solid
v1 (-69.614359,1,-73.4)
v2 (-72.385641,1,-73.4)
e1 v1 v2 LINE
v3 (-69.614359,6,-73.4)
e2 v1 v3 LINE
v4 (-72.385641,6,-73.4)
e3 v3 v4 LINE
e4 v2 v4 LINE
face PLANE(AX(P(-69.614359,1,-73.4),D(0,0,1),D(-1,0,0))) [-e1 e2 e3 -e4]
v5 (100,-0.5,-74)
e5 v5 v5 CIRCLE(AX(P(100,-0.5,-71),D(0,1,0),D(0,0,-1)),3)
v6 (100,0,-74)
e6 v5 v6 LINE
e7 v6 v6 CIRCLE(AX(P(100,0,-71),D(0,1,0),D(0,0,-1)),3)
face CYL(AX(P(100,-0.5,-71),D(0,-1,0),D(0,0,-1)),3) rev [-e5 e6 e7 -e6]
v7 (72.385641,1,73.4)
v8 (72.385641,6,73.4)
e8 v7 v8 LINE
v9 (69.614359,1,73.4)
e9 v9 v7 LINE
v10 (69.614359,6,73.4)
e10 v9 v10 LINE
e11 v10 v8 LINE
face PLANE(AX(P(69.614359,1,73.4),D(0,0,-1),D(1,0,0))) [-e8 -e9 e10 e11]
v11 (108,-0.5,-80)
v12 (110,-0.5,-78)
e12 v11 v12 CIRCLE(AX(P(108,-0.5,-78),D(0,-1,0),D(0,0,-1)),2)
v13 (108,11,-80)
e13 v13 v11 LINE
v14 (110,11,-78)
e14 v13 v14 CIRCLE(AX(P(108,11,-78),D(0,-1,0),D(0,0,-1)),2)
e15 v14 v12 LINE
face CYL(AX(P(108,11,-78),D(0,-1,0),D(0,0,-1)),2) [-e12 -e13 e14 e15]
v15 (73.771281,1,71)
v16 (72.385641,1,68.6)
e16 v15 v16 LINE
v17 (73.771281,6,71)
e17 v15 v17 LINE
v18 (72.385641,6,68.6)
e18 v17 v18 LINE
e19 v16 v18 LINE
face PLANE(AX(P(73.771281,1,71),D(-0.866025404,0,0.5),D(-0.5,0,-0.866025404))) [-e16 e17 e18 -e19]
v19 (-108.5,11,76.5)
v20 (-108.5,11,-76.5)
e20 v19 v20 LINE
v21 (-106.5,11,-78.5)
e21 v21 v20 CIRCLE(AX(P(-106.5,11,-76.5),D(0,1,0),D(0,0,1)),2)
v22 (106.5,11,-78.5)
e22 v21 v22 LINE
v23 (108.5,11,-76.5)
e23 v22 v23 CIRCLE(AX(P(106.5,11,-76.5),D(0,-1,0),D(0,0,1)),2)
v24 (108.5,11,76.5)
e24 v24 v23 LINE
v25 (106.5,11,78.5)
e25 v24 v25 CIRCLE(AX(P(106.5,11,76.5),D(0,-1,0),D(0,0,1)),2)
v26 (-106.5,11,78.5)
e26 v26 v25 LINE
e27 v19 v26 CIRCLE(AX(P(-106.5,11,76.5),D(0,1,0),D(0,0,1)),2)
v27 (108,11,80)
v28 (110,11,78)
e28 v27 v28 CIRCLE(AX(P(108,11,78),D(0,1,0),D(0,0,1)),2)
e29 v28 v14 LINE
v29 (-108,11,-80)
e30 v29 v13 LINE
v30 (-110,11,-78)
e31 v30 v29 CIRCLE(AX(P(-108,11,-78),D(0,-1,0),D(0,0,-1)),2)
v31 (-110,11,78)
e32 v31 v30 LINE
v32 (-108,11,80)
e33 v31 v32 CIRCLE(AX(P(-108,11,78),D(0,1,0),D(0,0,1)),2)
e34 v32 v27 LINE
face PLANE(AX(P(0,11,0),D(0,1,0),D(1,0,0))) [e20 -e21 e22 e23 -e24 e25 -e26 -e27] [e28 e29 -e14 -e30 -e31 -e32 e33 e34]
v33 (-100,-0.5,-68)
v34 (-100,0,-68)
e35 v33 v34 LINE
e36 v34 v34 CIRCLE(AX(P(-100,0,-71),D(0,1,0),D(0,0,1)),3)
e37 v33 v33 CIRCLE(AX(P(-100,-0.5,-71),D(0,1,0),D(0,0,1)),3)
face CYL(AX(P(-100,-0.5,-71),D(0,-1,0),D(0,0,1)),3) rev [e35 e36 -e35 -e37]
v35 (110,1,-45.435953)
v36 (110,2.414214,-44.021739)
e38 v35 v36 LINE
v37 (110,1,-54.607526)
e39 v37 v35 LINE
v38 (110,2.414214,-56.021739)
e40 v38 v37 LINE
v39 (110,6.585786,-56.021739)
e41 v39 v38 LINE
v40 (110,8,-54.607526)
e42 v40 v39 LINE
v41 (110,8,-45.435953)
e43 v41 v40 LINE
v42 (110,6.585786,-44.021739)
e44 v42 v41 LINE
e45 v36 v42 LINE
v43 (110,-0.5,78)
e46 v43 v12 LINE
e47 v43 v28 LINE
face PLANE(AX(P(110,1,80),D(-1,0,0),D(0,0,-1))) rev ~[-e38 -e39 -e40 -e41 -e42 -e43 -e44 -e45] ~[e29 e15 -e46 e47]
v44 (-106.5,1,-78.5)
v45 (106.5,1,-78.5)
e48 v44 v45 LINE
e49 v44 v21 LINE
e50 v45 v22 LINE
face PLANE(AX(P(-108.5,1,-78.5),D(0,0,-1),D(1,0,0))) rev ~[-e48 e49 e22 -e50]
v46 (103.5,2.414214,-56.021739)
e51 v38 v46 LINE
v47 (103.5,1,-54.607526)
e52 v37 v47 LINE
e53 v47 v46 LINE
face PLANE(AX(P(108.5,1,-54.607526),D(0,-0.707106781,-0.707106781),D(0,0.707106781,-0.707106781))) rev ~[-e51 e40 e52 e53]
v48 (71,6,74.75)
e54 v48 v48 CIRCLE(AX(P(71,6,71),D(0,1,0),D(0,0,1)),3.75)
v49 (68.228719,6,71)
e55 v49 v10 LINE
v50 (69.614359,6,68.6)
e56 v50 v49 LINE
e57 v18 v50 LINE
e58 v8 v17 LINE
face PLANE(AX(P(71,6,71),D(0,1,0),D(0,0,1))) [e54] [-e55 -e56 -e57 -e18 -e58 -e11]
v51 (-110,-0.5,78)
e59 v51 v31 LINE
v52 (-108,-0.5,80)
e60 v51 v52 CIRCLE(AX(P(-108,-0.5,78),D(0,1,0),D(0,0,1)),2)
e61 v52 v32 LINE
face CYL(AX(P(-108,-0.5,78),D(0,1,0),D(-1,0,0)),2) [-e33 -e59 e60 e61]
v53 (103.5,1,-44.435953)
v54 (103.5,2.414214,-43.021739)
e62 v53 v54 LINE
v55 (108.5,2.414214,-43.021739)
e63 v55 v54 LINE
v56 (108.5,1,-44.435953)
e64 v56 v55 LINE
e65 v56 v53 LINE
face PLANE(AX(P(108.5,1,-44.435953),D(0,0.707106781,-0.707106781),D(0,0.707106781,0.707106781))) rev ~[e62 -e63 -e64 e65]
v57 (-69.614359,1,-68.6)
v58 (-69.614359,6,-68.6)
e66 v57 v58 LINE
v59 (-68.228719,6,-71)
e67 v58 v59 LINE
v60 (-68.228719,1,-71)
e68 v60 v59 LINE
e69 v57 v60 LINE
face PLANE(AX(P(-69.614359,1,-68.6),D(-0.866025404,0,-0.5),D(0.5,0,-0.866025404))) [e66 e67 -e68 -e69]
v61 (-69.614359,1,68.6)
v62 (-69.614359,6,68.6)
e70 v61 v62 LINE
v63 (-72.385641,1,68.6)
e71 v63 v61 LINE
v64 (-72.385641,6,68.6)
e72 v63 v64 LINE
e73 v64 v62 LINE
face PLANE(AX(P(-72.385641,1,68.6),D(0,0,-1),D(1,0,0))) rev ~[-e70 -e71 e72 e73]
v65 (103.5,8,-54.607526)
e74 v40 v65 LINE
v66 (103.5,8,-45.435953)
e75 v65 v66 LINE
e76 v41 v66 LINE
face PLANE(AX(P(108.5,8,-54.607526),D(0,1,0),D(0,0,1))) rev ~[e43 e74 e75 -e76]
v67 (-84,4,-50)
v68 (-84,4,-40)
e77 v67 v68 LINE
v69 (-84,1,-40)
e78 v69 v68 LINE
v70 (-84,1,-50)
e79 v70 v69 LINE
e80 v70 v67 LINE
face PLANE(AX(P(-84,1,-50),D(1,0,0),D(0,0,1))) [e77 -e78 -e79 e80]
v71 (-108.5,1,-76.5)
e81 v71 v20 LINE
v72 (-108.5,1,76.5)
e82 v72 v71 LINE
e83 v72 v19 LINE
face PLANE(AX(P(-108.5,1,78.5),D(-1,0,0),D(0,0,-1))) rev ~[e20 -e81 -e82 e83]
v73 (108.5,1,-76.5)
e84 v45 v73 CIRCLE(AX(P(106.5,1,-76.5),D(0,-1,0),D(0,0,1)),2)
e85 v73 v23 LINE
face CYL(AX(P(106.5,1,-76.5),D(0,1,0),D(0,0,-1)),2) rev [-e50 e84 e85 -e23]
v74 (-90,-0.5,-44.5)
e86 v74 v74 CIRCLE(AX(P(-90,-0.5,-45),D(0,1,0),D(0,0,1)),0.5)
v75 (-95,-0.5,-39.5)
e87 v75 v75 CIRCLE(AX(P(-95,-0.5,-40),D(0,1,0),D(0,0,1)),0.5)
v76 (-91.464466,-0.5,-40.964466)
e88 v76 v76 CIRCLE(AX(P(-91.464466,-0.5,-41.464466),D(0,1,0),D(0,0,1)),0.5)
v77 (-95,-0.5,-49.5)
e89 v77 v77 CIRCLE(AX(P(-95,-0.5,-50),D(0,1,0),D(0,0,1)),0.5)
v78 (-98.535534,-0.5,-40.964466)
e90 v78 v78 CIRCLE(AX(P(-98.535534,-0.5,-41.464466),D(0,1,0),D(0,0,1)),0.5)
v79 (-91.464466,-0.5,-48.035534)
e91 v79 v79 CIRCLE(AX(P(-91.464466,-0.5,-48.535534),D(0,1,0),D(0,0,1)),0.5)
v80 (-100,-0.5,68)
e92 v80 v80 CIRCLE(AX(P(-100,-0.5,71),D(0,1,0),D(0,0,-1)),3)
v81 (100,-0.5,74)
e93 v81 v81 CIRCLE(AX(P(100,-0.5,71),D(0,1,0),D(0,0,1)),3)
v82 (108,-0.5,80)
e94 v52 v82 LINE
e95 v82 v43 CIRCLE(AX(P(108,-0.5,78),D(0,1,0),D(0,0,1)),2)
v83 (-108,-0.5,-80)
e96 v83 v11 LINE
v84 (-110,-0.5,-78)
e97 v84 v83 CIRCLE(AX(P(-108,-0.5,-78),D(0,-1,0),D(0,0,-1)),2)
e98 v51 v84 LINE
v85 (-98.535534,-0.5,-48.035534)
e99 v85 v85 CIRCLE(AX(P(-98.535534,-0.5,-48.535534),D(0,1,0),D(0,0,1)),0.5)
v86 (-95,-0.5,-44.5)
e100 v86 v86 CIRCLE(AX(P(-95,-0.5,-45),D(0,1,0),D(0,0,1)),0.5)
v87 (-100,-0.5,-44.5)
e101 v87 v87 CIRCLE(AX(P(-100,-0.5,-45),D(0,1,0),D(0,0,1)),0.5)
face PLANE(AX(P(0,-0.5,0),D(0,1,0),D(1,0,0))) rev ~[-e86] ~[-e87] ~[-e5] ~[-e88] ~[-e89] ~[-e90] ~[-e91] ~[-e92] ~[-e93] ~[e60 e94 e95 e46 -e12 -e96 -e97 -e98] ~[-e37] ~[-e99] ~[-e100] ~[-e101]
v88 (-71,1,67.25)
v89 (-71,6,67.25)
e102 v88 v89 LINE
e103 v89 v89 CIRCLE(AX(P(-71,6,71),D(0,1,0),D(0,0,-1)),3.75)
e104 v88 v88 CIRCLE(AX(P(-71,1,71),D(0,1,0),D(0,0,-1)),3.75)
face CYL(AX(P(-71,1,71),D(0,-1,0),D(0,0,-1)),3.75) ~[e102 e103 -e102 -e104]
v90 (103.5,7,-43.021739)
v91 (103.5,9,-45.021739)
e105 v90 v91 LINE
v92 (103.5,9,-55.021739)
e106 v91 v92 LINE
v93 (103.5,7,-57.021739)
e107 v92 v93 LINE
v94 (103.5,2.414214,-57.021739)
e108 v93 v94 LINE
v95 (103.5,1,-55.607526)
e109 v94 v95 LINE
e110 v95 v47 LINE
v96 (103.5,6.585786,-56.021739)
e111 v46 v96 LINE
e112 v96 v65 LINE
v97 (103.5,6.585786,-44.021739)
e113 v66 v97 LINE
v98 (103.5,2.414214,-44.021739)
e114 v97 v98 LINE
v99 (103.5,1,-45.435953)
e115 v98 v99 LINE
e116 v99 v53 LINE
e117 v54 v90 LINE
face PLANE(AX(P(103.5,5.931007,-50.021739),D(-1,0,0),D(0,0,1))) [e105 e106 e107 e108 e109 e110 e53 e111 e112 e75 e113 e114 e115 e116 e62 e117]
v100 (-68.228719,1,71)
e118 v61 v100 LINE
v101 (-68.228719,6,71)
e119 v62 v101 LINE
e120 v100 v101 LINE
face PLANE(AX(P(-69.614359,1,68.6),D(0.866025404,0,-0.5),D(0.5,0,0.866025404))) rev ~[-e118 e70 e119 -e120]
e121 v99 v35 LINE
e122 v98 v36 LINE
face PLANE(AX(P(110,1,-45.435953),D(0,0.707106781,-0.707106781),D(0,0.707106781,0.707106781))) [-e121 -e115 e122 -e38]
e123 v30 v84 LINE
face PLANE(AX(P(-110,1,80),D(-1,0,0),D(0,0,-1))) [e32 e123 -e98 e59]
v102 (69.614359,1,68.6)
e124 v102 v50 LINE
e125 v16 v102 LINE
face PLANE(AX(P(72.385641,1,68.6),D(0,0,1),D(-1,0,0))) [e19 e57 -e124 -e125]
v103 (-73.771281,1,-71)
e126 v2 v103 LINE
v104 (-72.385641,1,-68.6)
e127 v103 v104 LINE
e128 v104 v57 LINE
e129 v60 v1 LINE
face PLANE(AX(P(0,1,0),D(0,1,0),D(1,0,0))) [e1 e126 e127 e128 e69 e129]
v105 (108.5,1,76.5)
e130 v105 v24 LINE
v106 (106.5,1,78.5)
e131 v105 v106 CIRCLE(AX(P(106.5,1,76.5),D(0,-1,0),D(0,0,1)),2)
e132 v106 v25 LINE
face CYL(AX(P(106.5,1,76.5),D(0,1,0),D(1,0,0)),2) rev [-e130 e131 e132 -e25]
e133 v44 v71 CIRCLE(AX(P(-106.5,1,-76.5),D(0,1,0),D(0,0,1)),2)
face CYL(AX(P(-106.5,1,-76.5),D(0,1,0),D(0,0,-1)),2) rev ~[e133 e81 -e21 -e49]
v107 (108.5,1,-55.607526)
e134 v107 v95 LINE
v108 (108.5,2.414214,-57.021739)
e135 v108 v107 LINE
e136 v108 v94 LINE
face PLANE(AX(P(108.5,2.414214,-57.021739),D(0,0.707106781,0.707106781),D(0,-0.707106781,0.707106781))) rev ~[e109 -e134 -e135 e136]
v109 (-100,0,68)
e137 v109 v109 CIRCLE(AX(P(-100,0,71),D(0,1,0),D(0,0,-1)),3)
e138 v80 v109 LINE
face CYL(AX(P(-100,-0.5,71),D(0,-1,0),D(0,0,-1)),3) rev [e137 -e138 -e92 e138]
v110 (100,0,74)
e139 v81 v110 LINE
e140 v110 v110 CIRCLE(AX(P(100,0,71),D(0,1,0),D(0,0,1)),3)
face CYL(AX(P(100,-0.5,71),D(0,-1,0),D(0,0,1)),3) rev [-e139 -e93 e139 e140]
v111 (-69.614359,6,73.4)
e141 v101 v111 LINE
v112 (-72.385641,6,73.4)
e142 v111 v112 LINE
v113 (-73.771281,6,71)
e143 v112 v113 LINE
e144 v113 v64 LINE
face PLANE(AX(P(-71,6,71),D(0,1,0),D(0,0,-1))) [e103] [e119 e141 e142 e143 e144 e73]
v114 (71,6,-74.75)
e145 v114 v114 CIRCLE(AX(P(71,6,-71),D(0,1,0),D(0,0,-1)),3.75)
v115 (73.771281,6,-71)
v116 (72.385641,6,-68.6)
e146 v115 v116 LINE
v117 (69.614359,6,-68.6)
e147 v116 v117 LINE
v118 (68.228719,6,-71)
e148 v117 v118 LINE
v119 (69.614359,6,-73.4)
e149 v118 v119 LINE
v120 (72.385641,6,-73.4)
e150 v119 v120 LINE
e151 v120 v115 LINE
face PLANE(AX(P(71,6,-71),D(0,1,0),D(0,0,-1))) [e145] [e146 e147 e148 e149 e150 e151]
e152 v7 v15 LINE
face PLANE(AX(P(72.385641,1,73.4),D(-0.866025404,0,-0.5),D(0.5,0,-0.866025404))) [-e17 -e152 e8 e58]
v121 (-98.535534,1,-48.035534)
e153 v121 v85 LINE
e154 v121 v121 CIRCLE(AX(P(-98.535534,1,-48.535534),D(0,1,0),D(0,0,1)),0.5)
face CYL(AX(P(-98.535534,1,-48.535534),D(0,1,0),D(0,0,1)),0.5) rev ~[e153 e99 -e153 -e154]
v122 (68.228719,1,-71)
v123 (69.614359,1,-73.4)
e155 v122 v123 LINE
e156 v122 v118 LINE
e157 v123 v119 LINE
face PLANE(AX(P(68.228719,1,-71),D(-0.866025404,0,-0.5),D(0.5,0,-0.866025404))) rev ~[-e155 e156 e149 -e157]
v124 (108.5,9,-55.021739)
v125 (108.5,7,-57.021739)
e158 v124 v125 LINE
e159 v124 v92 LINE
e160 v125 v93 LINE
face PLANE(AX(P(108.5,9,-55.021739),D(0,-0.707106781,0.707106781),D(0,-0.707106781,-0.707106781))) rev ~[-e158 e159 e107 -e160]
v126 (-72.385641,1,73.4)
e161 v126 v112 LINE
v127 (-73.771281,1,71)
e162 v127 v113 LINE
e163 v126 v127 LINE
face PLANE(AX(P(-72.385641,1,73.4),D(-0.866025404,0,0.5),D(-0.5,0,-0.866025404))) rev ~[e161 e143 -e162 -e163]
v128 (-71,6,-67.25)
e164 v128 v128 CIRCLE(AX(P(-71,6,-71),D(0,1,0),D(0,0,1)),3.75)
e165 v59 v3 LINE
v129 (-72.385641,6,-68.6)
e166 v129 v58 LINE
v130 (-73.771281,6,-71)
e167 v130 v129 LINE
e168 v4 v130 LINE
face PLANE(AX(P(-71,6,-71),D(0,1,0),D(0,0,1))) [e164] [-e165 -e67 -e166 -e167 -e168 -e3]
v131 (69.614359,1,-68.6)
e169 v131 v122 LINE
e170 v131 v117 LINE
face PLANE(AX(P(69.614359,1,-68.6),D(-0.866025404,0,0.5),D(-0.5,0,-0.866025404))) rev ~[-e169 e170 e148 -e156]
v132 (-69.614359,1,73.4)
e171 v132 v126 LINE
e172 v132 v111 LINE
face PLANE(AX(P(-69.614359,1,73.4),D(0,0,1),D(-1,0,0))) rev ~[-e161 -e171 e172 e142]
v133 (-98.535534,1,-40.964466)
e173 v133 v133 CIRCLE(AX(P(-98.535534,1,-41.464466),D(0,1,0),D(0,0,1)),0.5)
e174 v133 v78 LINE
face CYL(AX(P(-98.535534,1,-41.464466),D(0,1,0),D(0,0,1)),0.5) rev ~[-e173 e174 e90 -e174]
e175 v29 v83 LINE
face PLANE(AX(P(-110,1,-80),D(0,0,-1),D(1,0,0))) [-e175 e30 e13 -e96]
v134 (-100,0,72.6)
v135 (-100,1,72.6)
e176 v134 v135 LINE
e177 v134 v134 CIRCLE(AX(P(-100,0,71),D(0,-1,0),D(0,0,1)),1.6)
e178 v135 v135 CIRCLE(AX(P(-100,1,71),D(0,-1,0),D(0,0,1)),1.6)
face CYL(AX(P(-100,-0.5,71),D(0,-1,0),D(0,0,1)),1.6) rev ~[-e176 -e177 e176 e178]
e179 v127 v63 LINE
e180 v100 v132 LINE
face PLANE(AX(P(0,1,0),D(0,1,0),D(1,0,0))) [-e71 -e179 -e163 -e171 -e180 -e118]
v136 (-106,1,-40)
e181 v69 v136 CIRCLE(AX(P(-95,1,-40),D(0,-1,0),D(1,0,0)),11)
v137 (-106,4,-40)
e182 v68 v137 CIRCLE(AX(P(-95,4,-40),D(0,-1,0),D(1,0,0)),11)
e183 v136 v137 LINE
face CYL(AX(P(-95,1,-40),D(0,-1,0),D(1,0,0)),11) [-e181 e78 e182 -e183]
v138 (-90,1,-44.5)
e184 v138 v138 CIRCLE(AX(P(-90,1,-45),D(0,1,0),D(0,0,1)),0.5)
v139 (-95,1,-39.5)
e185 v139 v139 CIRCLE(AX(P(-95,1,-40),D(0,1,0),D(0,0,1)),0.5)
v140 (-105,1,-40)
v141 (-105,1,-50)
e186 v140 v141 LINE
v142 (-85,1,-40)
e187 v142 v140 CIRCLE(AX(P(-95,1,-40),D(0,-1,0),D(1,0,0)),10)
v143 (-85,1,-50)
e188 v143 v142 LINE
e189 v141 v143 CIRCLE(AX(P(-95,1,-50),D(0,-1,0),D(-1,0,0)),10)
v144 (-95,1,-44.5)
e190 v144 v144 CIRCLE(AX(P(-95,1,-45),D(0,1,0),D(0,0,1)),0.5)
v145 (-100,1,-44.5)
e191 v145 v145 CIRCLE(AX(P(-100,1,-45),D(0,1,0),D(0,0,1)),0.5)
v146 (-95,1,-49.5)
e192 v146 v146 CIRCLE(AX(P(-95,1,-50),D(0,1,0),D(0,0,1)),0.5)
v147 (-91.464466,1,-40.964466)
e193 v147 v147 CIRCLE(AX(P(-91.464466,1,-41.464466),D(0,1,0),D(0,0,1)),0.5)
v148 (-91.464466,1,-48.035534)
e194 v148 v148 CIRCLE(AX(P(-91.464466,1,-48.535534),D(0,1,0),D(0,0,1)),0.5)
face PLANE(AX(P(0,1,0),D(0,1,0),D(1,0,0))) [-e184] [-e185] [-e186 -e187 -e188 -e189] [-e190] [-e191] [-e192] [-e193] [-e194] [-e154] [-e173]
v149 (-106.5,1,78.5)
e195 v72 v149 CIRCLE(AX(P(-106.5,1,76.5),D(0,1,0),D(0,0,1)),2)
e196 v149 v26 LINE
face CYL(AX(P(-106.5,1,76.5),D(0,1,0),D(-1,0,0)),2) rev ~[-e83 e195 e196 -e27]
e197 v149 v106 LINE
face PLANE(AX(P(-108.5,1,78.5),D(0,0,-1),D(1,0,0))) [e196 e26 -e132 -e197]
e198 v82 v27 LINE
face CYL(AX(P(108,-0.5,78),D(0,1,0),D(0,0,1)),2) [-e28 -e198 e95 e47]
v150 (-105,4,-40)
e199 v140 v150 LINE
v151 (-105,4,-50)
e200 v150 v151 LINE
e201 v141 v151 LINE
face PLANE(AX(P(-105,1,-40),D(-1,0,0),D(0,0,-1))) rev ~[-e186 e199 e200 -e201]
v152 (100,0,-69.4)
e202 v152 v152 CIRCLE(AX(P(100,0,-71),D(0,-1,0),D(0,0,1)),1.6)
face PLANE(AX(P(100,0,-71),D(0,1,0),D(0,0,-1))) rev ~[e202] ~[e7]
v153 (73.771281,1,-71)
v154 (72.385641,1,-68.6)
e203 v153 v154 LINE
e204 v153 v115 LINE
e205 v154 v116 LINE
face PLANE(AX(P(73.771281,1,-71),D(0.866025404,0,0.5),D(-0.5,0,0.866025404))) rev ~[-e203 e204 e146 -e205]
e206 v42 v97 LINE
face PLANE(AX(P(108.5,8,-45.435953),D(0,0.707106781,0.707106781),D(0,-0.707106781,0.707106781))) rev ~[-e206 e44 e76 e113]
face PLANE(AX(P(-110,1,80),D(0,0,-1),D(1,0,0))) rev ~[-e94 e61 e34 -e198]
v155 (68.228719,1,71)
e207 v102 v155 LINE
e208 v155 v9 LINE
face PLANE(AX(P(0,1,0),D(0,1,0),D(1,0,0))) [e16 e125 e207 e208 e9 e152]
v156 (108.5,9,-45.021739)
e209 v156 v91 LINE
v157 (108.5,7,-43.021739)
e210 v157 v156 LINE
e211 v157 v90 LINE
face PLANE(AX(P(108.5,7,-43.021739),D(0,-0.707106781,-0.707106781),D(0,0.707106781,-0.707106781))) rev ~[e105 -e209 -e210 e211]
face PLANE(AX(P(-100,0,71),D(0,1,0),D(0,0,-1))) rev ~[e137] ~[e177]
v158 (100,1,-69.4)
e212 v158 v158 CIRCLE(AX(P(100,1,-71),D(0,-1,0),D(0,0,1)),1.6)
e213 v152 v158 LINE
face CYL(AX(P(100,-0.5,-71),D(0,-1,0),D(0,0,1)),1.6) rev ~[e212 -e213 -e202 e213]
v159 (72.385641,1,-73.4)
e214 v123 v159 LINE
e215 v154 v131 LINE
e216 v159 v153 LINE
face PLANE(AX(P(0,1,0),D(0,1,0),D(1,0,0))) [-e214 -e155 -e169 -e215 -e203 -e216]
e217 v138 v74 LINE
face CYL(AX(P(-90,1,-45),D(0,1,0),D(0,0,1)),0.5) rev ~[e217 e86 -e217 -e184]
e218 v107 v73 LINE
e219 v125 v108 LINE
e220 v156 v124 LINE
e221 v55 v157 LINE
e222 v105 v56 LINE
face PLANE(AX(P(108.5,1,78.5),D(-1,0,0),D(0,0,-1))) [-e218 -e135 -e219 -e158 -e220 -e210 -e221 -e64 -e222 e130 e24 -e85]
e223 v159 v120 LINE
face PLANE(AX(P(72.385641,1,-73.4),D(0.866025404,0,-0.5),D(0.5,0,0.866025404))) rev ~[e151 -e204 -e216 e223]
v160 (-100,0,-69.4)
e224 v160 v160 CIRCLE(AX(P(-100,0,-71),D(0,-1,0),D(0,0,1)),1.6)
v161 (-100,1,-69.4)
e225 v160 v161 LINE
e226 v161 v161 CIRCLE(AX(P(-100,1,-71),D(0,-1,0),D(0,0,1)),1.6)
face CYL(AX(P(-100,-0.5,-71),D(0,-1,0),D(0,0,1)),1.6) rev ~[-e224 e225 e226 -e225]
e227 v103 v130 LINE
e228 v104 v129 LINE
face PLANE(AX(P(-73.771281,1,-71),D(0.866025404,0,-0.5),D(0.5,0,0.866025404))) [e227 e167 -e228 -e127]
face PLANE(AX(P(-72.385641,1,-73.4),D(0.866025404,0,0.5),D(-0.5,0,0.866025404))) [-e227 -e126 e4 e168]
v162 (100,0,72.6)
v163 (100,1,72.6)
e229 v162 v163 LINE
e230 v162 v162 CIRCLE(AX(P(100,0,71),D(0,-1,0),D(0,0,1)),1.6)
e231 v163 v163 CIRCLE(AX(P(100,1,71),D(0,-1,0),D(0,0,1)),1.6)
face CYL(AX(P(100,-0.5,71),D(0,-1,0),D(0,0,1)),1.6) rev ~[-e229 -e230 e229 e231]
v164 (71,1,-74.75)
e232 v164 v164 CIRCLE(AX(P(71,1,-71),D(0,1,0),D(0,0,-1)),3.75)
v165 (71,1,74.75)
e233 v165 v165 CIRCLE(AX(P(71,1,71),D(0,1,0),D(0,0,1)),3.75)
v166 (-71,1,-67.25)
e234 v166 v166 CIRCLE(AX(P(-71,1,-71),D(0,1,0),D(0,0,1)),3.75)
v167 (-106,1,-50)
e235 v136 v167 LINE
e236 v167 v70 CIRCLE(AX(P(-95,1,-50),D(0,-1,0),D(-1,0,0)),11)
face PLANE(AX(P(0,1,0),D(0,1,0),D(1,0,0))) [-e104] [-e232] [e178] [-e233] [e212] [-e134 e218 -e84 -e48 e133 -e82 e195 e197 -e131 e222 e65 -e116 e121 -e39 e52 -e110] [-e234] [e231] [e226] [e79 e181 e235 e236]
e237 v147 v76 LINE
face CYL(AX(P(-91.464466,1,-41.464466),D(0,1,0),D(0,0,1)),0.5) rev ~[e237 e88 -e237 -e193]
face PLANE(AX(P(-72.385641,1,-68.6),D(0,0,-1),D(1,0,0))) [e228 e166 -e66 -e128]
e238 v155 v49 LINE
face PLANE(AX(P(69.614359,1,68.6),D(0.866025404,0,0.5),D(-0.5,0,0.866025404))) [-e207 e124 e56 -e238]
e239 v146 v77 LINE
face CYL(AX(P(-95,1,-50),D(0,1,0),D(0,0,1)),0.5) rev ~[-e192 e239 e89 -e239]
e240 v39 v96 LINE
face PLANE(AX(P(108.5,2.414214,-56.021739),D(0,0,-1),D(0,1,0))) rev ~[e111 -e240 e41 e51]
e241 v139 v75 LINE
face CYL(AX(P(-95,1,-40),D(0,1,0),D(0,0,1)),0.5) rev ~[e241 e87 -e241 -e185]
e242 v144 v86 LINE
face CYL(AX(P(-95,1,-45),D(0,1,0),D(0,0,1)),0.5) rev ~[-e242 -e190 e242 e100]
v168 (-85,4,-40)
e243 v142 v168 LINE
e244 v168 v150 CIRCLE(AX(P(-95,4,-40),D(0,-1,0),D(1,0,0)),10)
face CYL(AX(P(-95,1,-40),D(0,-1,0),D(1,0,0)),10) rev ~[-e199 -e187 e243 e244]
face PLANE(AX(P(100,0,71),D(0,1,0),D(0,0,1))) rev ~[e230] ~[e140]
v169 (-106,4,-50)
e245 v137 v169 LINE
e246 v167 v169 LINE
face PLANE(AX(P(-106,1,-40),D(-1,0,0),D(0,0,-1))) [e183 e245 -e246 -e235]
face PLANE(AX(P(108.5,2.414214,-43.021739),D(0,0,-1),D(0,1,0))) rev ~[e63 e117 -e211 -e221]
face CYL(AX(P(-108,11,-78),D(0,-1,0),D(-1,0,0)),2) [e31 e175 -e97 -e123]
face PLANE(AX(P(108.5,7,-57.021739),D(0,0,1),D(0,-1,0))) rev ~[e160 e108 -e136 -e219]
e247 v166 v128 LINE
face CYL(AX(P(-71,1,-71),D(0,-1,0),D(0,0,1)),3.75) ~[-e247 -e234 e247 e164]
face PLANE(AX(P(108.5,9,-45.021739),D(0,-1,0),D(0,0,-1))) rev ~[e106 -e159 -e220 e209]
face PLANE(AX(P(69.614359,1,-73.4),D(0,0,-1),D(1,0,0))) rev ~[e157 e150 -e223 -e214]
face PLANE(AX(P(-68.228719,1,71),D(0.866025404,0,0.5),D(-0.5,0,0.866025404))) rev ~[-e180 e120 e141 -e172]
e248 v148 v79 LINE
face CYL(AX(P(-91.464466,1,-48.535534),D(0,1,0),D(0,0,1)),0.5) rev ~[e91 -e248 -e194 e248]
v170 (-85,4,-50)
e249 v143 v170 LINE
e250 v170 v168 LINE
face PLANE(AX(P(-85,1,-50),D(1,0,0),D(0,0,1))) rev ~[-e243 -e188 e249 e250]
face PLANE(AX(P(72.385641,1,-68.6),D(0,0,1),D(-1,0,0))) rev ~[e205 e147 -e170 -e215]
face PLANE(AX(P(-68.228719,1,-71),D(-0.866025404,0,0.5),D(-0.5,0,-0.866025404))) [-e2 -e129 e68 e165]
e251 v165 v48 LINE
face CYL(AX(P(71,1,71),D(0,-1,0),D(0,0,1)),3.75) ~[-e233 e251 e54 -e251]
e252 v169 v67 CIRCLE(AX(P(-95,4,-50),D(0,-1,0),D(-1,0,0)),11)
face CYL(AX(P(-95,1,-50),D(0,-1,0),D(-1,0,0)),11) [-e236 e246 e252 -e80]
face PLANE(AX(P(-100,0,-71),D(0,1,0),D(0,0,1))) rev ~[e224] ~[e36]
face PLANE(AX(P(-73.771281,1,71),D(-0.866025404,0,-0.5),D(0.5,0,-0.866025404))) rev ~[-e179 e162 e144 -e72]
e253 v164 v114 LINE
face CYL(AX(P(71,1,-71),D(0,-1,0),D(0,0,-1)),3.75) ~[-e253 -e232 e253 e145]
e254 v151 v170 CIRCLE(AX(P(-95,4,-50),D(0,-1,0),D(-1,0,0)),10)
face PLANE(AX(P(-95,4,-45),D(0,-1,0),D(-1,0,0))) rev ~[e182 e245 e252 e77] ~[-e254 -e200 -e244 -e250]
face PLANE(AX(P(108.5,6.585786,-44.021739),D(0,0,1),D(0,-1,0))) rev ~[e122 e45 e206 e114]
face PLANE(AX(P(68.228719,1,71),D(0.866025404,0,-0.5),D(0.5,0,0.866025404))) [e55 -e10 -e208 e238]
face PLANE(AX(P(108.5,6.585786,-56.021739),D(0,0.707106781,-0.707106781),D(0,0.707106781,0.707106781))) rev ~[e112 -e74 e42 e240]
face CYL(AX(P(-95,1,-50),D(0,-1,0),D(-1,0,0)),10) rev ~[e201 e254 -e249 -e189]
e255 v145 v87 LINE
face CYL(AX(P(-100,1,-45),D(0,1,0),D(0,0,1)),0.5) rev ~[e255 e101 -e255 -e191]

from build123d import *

# Parameters (mm, degrees)
EXTRUDE_1_DEPTH                 = 1
EXTRUDE_1_DEPTH_BACK            = 0.5
SKETCH_1_W                      = 220
SKETCH_1_H                      = 160
SKETCH_2_R                      = 3.75
EXTRUDE_2_DEPTH                 = 5
CUT_EXTRUDE_5_REACH             = 138.17
SKETCH_3_R                      = 1.6
CUT_EXTRUDE_5_DIRECTION_2_DEPTH = 137.169930601
CUT_EXTRUDE_START               = -0.5
SKETCH_4_R                      = 3
CUT_EXTRUDE_7_DEPTH             = 0.5
SKETCH_5_W                      = 220
SKETCH_5_H                      = 160
SKETCH_5_W_2                    = 217
SKETCH_5_H_2                    = 157
EXTRUDE_3_DEPTH                 = 10
FILLET_1_R                      = 2
FILLET_2_R                      = 2
FILLET_3_R                      = 2
CUT_EXTRUDE_8_REACH             = 236.352
CUT_EXTRUDE_8_DIRECTION_2_DEPTH = 235.352298901
EXTRUDE_4_DEPTH                 = 5
EXTRUDE_5_DEPTH                 = 3
CUT_EXTRUDE_9_REACH             = 138.382
SKETCH_10_R                     = 0.5


with BuildPart() as part:
    # 草图1 → 凸台-拉伸1 (new, two sides: drawn at the far end of the back side and taken through both)
    with BuildSketch(Plane(origin=(0, 0, 0), x_dir=(1, 0, 0), z_dir=(0, 1, 0)).offset(-EXTRUDE_1_DEPTH_BACK)):
        Rectangle(SKETCH_1_W, SKETCH_1_H)
    extrude(amount=EXTRUDE_1_DEPTH + EXTRUDE_1_DEPTH_BACK)

    # 草图2 → 凸台-拉伸2 (add)
    # profile 1 of 4: a face of its own
    with BuildSketch(Plane(origin=(0, 1, 0), x_dir=(1, 0, 0), z_dir=(0, 1, 0))):
        with Locations(Location((-71, 71, 0), (0, 0, 270))):
            Circle(SKETCH_2_R)
        Polygon((-69.614359354, 68.6), (-68.228718708, 71), (-69.614359354, 73.4), (-72.385640646, 73.4), (-73.771281292, 71), (-72.385640646, 68.6), align=None, mode=Mode.SUBTRACT)
    # profile 2 of 4: a face of its own
    with BuildSketch(Plane(origin=(0, 1, 0), x_dir=(1, 0, 0), z_dir=(0, 1, 0))):
        with Locations(Location((71, 71, 0), (0, 0, 90))):
            Circle(SKETCH_2_R)
        Polygon((72.385640646, 68.6), (69.614359354, 68.6), (68.228718708, 71), (69.614359354, 73.4), (72.385640646, 73.4), (73.771281292, 71), align=None, mode=Mode.SUBTRACT)
    # profile 3 of 4: a face of its own
    with BuildSketch(Plane(origin=(0, 1, 0), x_dir=(1, 0, 0), z_dir=(0, 1, 0))):
        with Locations(Location((71, -71, 0), (0, 0, 270))):
            Circle(SKETCH_2_R)
        Polygon((69.614359354, -68.6), (68.228718708, -71), (69.614359354, -73.4), (72.385640646, -73.4), (73.771281292, -71), (72.385640646, -68.6), align=None, mode=Mode.SUBTRACT)
    # profile 4 of 4: a face of its own
    with BuildSketch(Plane(origin=(0, 1, 0), x_dir=(1, 0, 0), z_dir=(0, 1, 0))):
        with Locations(Location((-71, -71, 0), (0, 0, 90))):
            Circle(SKETCH_2_R)
        Polygon((-72.385640646, -68.6), (-69.614359354, -68.6), (-68.228718708, -71), (-69.614359354, -73.4), (-72.385640646, -73.4), (-73.771281292, -71), align=None, mode=Mode.SUBTRACT)
    extrude(amount=EXTRUDE_2_DEPTH)

    # 草图3 → 切除-拉伸5 (cut, up to next)
    with BuildSketch(Plane.XZ.offset(0.5), mode=Mode.PRIVATE) as cut_extrude_5_sk1:
        with Locations(Location((-100, -71, 0), (0, 0, 90))):
            Circle(SKETCH_3_R)
    cut_extrude_5_tool1 = extrude(cut_extrude_5_sk1.sketch, amount=-CUT_EXTRUDE_5_REACH, mode=Mode.PRIVATE) & part.part
    # 草图3 → 切除-拉伸5 (cut, up to next)
    with BuildSketch(Plane.XZ.offset(0.5), mode=Mode.PRIVATE) as cut_extrude_5_sk2:
        with Locations(Location((100, -71, 0), (0, 0, 90))):
            Circle(SKETCH_3_R)
    cut_extrude_5_tool2 = extrude(cut_extrude_5_sk2.sketch, amount=-CUT_EXTRUDE_5_REACH, mode=Mode.PRIVATE) & part.part
    # 草图3 → 切除-拉伸5 (cut, up to next)
    with BuildSketch(Plane.XZ.offset(0.5), mode=Mode.PRIVATE) as cut_extrude_5_sk3:
        with Locations(Location((100, 71, 0), (0, 0, 90))):
            Circle(SKETCH_3_R)
    cut_extrude_5_tool3 = extrude(cut_extrude_5_sk3.sketch, amount=-CUT_EXTRUDE_5_REACH, mode=Mode.PRIVATE) & part.part
    # 草图3 → 切除-拉伸5 (cut, up to next)
    with BuildSketch(Plane.XZ.offset(0.5), mode=Mode.PRIVATE) as cut_extrude_5_sk4:
        with Locations(Location((-100, 71, 0), (0, 0, 90))):
            Circle(SKETCH_3_R)
    cut_extrude_5_tool4 = extrude(cut_extrude_5_sk4.sketch, amount=-CUT_EXTRUDE_5_REACH, mode=Mode.PRIVATE) & part.part
    add(cut_extrude_5_tool1.solids().sort_by_distance((-100, -0.5, -71))[0], mode=Mode.SUBTRACT)
    add(cut_extrude_5_tool2.solids().sort_by_distance((100, -0.5, -71))[0], mode=Mode.SUBTRACT)
    add(cut_extrude_5_tool3.solids().sort_by_distance((100, -0.5, 71))[0], mode=Mode.SUBTRACT)
    add(cut_extrude_5_tool4.solids().sort_by_distance((-100, -0.5, 71))[0], mode=Mode.SUBTRACT)

    # 草图3 → 切除-拉伸5 direction 2 (cut)
    with BuildSketch(Plane.XZ.offset(0.5)):
        with Locations(Location((-100, -71, 0), (0, 0, 90))):
            Circle(SKETCH_3_R)
        with Locations(Location((100, -71, 0), (0, 0, 90))):
            Circle(SKETCH_3_R)
        with Locations(Location((100, 71, 0), (0, 0, 90))):
            Circle(SKETCH_3_R)
        with Locations(Location((-100, 71, 0), (0, 0, 90))):
            Circle(SKETCH_3_R)
    extrude(amount=CUT_EXTRUDE_5_DIRECTION_2_DEPTH, mode=Mode.SUBTRACT)

    # 草图4 → 切除-拉伸7 (cut)
    with BuildSketch(Plane(origin=(0, 0, 0), x_dir=(1, 0, 0), z_dir=(0, 1, 0)).offset(CUT_EXTRUDE_START)):
        with Locations(Location((-100, 71, 0), (0, 0, 270))):
            Circle(SKETCH_4_R)
        with Locations(Location((100, 71, 0), (0, 0, 90))):
            Circle(SKETCH_4_R)
        with Locations(Location((100, -71, 0), (0, 0, 270))):
            Circle(SKETCH_4_R)
        with Locations(Location((-100, -71, 0), (0, 0, 90))):
            Circle(SKETCH_4_R)
    extrude(amount=CUT_EXTRUDE_7_DEPTH, mode=Mode.SUBTRACT)

    # 草图5 → 凸台-拉伸3 (add)
    with BuildSketch(Plane(origin=(0, 1, 0), x_dir=(1, 0, 0), z_dir=(0, 1, 0))):
        Rectangle(SKETCH_5_W, SKETCH_5_H)
        Rectangle(SKETCH_5_W_2, SKETCH_5_H_2, mode=Mode.SUBTRACT)
    extrude(amount=EXTRUDE_3_DEPTH)

    # 圆角1
    fillet_1_edges = [part.edges().sort_by_distance(p)[0] for p in [
        (-110, 5.25, -80),
    ]]
    fillet(fillet_1_edges, radius=FILLET_1_R)

    # 圆角2
    fillet_2_edges = [part.edges().sort_by_distance(p)[0] for p in [
        (-108.5, 6, -78.5),
    ]]
    fillet(fillet_2_edges, radius=FILLET_2_R)

    # 圆角3
    fillet_3_edges = [part.edges().sort_by_distance(p)[0] for p in [
        (108.5, 6, 78.5),
        (108.5, 6, -78.5),
        (-108.5, 6, 78.5),
        (110, 5.25, 80),
        (-110, 5.25, 80),
        (110, 5.25, -80),
    ]]
    fillet(fillet_3_edges, radius=FILLET_3_R)

    # 草图7 → 切除-拉伸8 (cut, up to next)
    with BuildSketch(Plane(origin=(110, 0, 0), x_dir=(0, 0, -1), z_dir=(1, 0, 0)), mode=Mode.PRIVATE) as cut_extrude_8_sk1:
        Polygon((45.435952693, 8), (54.607525568, 8), (56.02173913, 6.585786438), (56.02173913, 2.414213562), (54.607525568, 1), (45.435952693, 1), (44.02173913, 2.414213562), (44.02173913, 6.585786438), align=None)
    cut_extrude_8_tool1 = extrude(cut_extrude_8_sk1.sketch, amount=-CUT_EXTRUDE_8_REACH, mode=Mode.PRIVATE) & part.part
    add(cut_extrude_8_tool1.solids().sort_by_distance((110, 4.5, -50.021739))[0], mode=Mode.SUBTRACT)

    # 草图7 → 切除-拉伸8 direction 2 (cut)
    with BuildSketch(Plane(origin=(110, 0, 0), x_dir=(0, 0, -1), z_dir=(1, 0, 0))):
        Polygon((45.435952693, 8), (54.607525568, 8), (56.02173913, 6.585786438), (56.02173913, 2.414213562), (54.607525568, 1), (45.435952693, 1), (44.02173913, 2.414213562), (44.02173913, 6.585786438), align=None)
    extrude(amount=CUT_EXTRUDE_8_DIRECTION_2_DEPTH, mode=Mode.SUBTRACT)

    # 草图8 → 凸台-拉伸4 (add)
    with BuildSketch(Plane.ZY.offset(-108.5)):
        Polygon((-44.435952693, 1), (-43.02173913, 2.414213562), (-43.02173913, 7), (-45.02173913, 9), (-55.02173913, 9), (-57.02173913, 7), (-57.02173913, 2.414213562), (-55.607525568, 1), (-54.607525568, 1), (-56.02173913, 2.414213562), (-56.02173913, 6.585786438), (-54.607525568, 8), (-45.435952693, 8), (-44.02173913, 6.585786438), (-44.02173913, 2.414213562), (-45.435952693, 1), align=None)
    extrude(amount=EXTRUDE_4_DEPTH)

    # 草图9 → 凸台-拉伸5 (add)
    with BuildSketch(Plane(origin=(0, 1, 0), x_dir=(1, 0, 0), z_dir=(0, 1, 0))):
        with BuildLine():
            Line((-84, 50), (-84, 40))
            ThreePointArc((-84, 40), (-95, 29), (-106, 40))
            Line((-106, 40), (-106, 50))
            ThreePointArc((-106, 50), (-95, 61), (-84, 50))
        make_face()
        with BuildLine():
            Line((-85, 50), (-85, 40))
            ThreePointArc((-85, 40), (-95, 30), (-105, 40))
            Line((-105, 40), (-105, 50))
            ThreePointArc((-105, 50), (-95, 60), (-85, 50))
        make_face(mode=Mode.SUBTRACT)
    extrude(amount=EXTRUDE_5_DEPTH)

    # 草图10 → 切除-拉伸9 (cut, up to next)
    with BuildSketch(Plane(origin=(0, 1, 0), x_dir=(1, 0, 0), z_dir=(0, 1, 0)), mode=Mode.PRIVATE) as cut_extrude_9_sk1:
        with Locations(Location((-95, 45, 0), (0, 0, 270))):
            Circle(SKETCH_10_R)
    cut_extrude_9_tool1 = extrude(cut_extrude_9_sk1.sketch, amount=-CUT_EXTRUDE_9_REACH, mode=Mode.PRIVATE) & part.part
    # 草图10 → 切除-拉伸9 (cut, up to next)
    with BuildSketch(Plane(origin=(0, 1, 0), x_dir=(1, 0, 0), z_dir=(0, 1, 0)), mode=Mode.PRIVATE) as cut_extrude_9_sk2:
        with Locations(Location((-100, 45, 0), (0, 0, 270))):
            Circle(SKETCH_10_R)
    cut_extrude_9_tool2 = extrude(cut_extrude_9_sk2.sketch, amount=-CUT_EXTRUDE_9_REACH, mode=Mode.PRIVATE) & part.part
    # 草图10 → 切除-拉伸9 (cut, up to next)
    with BuildSketch(Plane(origin=(0, 1, 0), x_dir=(1, 0, 0), z_dir=(0, 1, 0)), mode=Mode.PRIVATE) as cut_extrude_9_sk3:
        with Locations(Location((-98.535533906, 48.535533906, 0), (0, 0, 270))):
            Circle(SKETCH_10_R)
    cut_extrude_9_tool3 = extrude(cut_extrude_9_sk3.sketch, amount=-CUT_EXTRUDE_9_REACH, mode=Mode.PRIVATE) & part.part
    # 草图10 → 切除-拉伸9 (cut, up to next)
    with BuildSketch(Plane(origin=(0, 1, 0), x_dir=(1, 0, 0), z_dir=(0, 1, 0)), mode=Mode.PRIVATE) as cut_extrude_9_sk4:
        with Locations(Location((-95, 50, 0), (0, 0, 270))):
            Circle(SKETCH_10_R)
    cut_extrude_9_tool4 = extrude(cut_extrude_9_sk4.sketch, amount=-CUT_EXTRUDE_9_REACH, mode=Mode.PRIVATE) & part.part
    # 草图10 → 切除-拉伸9 (cut, up to next)
    with BuildSketch(Plane(origin=(0, 1, 0), x_dir=(1, 0, 0), z_dir=(0, 1, 0)), mode=Mode.PRIVATE) as cut_extrude_9_sk5:
        with Locations(Location((-91.464466094, 48.535533906, 0), (0, 0, 270))):
            Circle(SKETCH_10_R)
    cut_extrude_9_tool5 = extrude(cut_extrude_9_sk5.sketch, amount=-CUT_EXTRUDE_9_REACH, mode=Mode.PRIVATE) & part.part
    # 草图10 → 切除-拉伸9 (cut, up to next)
    with BuildSketch(Plane(origin=(0, 1, 0), x_dir=(1, 0, 0), z_dir=(0, 1, 0)), mode=Mode.PRIVATE) as cut_extrude_9_sk6:
        with Locations(Location((-90, 45, 0), (0, 0, 270))):
            Circle(SKETCH_10_R)
    cut_extrude_9_tool6 = extrude(cut_extrude_9_sk6.sketch, amount=-CUT_EXTRUDE_9_REACH, mode=Mode.PRIVATE) & part.part
    # 草图10 → 切除-拉伸9 (cut, up to next)
    with BuildSketch(Plane(origin=(0, 1, 0), x_dir=(1, 0, 0), z_dir=(0, 1, 0)), mode=Mode.PRIVATE) as cut_extrude_9_sk7:
        with Locations(Location((-91.464466094, 41.464466094, 0), (0, 0, 270))):
            Circle(SKETCH_10_R)
    cut_extrude_9_tool7 = extrude(cut_extrude_9_sk7.sketch, amount=-CUT_EXTRUDE_9_REACH, mode=Mode.PRIVATE) & part.part
    # 草图10 → 切除-拉伸9 (cut, up to next)
    with BuildSketch(Plane(origin=(0, 1, 0), x_dir=(1, 0, 0), z_dir=(0, 1, 0)), mode=Mode.PRIVATE) as cut_extrude_9_sk8:
        with Locations(Location((-95, 40, 0), (0, 0, 270))):
            Circle(SKETCH_10_R)
    cut_extrude_9_tool8 = extrude(cut_extrude_9_sk8.sketch, amount=-CUT_EXTRUDE_9_REACH, mode=Mode.PRIVATE) & part.part
    # 草图10 → 切除-拉伸9 (cut, up to next)
    with BuildSketch(Plane(origin=(0, 1, 0), x_dir=(1, 0, 0), z_dir=(0, 1, 0)), mode=Mode.PRIVATE) as cut_extrude_9_sk9:
        with Locations(Location((-98.535533906, 41.464466094, 0), (0, 0, 270))):
            Circle(SKETCH_10_R)
    cut_extrude_9_tool9 = extrude(cut_extrude_9_sk9.sketch, amount=-CUT_EXTRUDE_9_REACH, mode=Mode.PRIVATE) & part.part
    add(cut_extrude_9_tool1.solids().sort_by_distance((-95, 1, -45))[0], mode=Mode.SUBTRACT)
    add(cut_extrude_9_tool2.solids().sort_by_distance((-100, 1, -45))[0], mode=Mode.SUBTRACT)
    add(cut_extrude_9_tool3.solids().sort_by_distance((-98.535534, 1, -48.535534))[0], mode=Mode.SUBTRACT)
    add(cut_extrude_9_tool4.solids().sort_by_distance((-95, 1, -50))[0], mode=Mode.SUBTRACT)
    add(cut_extrude_9_tool5.solids().sort_by_distance((-91.464466, 1, -48.535534))[0], mode=Mode.SUBTRACT)
    add(cut_extrude_9_tool6.solids().sort_by_distance((-90, 1, -45))[0], mode=Mode.SUBTRACT)
    add(cut_extrude_9_tool7.solids().sort_by_distance((-91.464466, 1, -41.464466))[0], mode=Mode.SUBTRACT)
    add(cut_extrude_9_tool8.solids().sort_by_distance((-95, 1, -40))[0], mode=Mode.SUBTRACT)
    add(cut_extrude_9_tool9.solids().sort_by_distance((-98.535534, 1, -41.464466))[0], mode=Mode.SUBTRACT)


solid = part.part
